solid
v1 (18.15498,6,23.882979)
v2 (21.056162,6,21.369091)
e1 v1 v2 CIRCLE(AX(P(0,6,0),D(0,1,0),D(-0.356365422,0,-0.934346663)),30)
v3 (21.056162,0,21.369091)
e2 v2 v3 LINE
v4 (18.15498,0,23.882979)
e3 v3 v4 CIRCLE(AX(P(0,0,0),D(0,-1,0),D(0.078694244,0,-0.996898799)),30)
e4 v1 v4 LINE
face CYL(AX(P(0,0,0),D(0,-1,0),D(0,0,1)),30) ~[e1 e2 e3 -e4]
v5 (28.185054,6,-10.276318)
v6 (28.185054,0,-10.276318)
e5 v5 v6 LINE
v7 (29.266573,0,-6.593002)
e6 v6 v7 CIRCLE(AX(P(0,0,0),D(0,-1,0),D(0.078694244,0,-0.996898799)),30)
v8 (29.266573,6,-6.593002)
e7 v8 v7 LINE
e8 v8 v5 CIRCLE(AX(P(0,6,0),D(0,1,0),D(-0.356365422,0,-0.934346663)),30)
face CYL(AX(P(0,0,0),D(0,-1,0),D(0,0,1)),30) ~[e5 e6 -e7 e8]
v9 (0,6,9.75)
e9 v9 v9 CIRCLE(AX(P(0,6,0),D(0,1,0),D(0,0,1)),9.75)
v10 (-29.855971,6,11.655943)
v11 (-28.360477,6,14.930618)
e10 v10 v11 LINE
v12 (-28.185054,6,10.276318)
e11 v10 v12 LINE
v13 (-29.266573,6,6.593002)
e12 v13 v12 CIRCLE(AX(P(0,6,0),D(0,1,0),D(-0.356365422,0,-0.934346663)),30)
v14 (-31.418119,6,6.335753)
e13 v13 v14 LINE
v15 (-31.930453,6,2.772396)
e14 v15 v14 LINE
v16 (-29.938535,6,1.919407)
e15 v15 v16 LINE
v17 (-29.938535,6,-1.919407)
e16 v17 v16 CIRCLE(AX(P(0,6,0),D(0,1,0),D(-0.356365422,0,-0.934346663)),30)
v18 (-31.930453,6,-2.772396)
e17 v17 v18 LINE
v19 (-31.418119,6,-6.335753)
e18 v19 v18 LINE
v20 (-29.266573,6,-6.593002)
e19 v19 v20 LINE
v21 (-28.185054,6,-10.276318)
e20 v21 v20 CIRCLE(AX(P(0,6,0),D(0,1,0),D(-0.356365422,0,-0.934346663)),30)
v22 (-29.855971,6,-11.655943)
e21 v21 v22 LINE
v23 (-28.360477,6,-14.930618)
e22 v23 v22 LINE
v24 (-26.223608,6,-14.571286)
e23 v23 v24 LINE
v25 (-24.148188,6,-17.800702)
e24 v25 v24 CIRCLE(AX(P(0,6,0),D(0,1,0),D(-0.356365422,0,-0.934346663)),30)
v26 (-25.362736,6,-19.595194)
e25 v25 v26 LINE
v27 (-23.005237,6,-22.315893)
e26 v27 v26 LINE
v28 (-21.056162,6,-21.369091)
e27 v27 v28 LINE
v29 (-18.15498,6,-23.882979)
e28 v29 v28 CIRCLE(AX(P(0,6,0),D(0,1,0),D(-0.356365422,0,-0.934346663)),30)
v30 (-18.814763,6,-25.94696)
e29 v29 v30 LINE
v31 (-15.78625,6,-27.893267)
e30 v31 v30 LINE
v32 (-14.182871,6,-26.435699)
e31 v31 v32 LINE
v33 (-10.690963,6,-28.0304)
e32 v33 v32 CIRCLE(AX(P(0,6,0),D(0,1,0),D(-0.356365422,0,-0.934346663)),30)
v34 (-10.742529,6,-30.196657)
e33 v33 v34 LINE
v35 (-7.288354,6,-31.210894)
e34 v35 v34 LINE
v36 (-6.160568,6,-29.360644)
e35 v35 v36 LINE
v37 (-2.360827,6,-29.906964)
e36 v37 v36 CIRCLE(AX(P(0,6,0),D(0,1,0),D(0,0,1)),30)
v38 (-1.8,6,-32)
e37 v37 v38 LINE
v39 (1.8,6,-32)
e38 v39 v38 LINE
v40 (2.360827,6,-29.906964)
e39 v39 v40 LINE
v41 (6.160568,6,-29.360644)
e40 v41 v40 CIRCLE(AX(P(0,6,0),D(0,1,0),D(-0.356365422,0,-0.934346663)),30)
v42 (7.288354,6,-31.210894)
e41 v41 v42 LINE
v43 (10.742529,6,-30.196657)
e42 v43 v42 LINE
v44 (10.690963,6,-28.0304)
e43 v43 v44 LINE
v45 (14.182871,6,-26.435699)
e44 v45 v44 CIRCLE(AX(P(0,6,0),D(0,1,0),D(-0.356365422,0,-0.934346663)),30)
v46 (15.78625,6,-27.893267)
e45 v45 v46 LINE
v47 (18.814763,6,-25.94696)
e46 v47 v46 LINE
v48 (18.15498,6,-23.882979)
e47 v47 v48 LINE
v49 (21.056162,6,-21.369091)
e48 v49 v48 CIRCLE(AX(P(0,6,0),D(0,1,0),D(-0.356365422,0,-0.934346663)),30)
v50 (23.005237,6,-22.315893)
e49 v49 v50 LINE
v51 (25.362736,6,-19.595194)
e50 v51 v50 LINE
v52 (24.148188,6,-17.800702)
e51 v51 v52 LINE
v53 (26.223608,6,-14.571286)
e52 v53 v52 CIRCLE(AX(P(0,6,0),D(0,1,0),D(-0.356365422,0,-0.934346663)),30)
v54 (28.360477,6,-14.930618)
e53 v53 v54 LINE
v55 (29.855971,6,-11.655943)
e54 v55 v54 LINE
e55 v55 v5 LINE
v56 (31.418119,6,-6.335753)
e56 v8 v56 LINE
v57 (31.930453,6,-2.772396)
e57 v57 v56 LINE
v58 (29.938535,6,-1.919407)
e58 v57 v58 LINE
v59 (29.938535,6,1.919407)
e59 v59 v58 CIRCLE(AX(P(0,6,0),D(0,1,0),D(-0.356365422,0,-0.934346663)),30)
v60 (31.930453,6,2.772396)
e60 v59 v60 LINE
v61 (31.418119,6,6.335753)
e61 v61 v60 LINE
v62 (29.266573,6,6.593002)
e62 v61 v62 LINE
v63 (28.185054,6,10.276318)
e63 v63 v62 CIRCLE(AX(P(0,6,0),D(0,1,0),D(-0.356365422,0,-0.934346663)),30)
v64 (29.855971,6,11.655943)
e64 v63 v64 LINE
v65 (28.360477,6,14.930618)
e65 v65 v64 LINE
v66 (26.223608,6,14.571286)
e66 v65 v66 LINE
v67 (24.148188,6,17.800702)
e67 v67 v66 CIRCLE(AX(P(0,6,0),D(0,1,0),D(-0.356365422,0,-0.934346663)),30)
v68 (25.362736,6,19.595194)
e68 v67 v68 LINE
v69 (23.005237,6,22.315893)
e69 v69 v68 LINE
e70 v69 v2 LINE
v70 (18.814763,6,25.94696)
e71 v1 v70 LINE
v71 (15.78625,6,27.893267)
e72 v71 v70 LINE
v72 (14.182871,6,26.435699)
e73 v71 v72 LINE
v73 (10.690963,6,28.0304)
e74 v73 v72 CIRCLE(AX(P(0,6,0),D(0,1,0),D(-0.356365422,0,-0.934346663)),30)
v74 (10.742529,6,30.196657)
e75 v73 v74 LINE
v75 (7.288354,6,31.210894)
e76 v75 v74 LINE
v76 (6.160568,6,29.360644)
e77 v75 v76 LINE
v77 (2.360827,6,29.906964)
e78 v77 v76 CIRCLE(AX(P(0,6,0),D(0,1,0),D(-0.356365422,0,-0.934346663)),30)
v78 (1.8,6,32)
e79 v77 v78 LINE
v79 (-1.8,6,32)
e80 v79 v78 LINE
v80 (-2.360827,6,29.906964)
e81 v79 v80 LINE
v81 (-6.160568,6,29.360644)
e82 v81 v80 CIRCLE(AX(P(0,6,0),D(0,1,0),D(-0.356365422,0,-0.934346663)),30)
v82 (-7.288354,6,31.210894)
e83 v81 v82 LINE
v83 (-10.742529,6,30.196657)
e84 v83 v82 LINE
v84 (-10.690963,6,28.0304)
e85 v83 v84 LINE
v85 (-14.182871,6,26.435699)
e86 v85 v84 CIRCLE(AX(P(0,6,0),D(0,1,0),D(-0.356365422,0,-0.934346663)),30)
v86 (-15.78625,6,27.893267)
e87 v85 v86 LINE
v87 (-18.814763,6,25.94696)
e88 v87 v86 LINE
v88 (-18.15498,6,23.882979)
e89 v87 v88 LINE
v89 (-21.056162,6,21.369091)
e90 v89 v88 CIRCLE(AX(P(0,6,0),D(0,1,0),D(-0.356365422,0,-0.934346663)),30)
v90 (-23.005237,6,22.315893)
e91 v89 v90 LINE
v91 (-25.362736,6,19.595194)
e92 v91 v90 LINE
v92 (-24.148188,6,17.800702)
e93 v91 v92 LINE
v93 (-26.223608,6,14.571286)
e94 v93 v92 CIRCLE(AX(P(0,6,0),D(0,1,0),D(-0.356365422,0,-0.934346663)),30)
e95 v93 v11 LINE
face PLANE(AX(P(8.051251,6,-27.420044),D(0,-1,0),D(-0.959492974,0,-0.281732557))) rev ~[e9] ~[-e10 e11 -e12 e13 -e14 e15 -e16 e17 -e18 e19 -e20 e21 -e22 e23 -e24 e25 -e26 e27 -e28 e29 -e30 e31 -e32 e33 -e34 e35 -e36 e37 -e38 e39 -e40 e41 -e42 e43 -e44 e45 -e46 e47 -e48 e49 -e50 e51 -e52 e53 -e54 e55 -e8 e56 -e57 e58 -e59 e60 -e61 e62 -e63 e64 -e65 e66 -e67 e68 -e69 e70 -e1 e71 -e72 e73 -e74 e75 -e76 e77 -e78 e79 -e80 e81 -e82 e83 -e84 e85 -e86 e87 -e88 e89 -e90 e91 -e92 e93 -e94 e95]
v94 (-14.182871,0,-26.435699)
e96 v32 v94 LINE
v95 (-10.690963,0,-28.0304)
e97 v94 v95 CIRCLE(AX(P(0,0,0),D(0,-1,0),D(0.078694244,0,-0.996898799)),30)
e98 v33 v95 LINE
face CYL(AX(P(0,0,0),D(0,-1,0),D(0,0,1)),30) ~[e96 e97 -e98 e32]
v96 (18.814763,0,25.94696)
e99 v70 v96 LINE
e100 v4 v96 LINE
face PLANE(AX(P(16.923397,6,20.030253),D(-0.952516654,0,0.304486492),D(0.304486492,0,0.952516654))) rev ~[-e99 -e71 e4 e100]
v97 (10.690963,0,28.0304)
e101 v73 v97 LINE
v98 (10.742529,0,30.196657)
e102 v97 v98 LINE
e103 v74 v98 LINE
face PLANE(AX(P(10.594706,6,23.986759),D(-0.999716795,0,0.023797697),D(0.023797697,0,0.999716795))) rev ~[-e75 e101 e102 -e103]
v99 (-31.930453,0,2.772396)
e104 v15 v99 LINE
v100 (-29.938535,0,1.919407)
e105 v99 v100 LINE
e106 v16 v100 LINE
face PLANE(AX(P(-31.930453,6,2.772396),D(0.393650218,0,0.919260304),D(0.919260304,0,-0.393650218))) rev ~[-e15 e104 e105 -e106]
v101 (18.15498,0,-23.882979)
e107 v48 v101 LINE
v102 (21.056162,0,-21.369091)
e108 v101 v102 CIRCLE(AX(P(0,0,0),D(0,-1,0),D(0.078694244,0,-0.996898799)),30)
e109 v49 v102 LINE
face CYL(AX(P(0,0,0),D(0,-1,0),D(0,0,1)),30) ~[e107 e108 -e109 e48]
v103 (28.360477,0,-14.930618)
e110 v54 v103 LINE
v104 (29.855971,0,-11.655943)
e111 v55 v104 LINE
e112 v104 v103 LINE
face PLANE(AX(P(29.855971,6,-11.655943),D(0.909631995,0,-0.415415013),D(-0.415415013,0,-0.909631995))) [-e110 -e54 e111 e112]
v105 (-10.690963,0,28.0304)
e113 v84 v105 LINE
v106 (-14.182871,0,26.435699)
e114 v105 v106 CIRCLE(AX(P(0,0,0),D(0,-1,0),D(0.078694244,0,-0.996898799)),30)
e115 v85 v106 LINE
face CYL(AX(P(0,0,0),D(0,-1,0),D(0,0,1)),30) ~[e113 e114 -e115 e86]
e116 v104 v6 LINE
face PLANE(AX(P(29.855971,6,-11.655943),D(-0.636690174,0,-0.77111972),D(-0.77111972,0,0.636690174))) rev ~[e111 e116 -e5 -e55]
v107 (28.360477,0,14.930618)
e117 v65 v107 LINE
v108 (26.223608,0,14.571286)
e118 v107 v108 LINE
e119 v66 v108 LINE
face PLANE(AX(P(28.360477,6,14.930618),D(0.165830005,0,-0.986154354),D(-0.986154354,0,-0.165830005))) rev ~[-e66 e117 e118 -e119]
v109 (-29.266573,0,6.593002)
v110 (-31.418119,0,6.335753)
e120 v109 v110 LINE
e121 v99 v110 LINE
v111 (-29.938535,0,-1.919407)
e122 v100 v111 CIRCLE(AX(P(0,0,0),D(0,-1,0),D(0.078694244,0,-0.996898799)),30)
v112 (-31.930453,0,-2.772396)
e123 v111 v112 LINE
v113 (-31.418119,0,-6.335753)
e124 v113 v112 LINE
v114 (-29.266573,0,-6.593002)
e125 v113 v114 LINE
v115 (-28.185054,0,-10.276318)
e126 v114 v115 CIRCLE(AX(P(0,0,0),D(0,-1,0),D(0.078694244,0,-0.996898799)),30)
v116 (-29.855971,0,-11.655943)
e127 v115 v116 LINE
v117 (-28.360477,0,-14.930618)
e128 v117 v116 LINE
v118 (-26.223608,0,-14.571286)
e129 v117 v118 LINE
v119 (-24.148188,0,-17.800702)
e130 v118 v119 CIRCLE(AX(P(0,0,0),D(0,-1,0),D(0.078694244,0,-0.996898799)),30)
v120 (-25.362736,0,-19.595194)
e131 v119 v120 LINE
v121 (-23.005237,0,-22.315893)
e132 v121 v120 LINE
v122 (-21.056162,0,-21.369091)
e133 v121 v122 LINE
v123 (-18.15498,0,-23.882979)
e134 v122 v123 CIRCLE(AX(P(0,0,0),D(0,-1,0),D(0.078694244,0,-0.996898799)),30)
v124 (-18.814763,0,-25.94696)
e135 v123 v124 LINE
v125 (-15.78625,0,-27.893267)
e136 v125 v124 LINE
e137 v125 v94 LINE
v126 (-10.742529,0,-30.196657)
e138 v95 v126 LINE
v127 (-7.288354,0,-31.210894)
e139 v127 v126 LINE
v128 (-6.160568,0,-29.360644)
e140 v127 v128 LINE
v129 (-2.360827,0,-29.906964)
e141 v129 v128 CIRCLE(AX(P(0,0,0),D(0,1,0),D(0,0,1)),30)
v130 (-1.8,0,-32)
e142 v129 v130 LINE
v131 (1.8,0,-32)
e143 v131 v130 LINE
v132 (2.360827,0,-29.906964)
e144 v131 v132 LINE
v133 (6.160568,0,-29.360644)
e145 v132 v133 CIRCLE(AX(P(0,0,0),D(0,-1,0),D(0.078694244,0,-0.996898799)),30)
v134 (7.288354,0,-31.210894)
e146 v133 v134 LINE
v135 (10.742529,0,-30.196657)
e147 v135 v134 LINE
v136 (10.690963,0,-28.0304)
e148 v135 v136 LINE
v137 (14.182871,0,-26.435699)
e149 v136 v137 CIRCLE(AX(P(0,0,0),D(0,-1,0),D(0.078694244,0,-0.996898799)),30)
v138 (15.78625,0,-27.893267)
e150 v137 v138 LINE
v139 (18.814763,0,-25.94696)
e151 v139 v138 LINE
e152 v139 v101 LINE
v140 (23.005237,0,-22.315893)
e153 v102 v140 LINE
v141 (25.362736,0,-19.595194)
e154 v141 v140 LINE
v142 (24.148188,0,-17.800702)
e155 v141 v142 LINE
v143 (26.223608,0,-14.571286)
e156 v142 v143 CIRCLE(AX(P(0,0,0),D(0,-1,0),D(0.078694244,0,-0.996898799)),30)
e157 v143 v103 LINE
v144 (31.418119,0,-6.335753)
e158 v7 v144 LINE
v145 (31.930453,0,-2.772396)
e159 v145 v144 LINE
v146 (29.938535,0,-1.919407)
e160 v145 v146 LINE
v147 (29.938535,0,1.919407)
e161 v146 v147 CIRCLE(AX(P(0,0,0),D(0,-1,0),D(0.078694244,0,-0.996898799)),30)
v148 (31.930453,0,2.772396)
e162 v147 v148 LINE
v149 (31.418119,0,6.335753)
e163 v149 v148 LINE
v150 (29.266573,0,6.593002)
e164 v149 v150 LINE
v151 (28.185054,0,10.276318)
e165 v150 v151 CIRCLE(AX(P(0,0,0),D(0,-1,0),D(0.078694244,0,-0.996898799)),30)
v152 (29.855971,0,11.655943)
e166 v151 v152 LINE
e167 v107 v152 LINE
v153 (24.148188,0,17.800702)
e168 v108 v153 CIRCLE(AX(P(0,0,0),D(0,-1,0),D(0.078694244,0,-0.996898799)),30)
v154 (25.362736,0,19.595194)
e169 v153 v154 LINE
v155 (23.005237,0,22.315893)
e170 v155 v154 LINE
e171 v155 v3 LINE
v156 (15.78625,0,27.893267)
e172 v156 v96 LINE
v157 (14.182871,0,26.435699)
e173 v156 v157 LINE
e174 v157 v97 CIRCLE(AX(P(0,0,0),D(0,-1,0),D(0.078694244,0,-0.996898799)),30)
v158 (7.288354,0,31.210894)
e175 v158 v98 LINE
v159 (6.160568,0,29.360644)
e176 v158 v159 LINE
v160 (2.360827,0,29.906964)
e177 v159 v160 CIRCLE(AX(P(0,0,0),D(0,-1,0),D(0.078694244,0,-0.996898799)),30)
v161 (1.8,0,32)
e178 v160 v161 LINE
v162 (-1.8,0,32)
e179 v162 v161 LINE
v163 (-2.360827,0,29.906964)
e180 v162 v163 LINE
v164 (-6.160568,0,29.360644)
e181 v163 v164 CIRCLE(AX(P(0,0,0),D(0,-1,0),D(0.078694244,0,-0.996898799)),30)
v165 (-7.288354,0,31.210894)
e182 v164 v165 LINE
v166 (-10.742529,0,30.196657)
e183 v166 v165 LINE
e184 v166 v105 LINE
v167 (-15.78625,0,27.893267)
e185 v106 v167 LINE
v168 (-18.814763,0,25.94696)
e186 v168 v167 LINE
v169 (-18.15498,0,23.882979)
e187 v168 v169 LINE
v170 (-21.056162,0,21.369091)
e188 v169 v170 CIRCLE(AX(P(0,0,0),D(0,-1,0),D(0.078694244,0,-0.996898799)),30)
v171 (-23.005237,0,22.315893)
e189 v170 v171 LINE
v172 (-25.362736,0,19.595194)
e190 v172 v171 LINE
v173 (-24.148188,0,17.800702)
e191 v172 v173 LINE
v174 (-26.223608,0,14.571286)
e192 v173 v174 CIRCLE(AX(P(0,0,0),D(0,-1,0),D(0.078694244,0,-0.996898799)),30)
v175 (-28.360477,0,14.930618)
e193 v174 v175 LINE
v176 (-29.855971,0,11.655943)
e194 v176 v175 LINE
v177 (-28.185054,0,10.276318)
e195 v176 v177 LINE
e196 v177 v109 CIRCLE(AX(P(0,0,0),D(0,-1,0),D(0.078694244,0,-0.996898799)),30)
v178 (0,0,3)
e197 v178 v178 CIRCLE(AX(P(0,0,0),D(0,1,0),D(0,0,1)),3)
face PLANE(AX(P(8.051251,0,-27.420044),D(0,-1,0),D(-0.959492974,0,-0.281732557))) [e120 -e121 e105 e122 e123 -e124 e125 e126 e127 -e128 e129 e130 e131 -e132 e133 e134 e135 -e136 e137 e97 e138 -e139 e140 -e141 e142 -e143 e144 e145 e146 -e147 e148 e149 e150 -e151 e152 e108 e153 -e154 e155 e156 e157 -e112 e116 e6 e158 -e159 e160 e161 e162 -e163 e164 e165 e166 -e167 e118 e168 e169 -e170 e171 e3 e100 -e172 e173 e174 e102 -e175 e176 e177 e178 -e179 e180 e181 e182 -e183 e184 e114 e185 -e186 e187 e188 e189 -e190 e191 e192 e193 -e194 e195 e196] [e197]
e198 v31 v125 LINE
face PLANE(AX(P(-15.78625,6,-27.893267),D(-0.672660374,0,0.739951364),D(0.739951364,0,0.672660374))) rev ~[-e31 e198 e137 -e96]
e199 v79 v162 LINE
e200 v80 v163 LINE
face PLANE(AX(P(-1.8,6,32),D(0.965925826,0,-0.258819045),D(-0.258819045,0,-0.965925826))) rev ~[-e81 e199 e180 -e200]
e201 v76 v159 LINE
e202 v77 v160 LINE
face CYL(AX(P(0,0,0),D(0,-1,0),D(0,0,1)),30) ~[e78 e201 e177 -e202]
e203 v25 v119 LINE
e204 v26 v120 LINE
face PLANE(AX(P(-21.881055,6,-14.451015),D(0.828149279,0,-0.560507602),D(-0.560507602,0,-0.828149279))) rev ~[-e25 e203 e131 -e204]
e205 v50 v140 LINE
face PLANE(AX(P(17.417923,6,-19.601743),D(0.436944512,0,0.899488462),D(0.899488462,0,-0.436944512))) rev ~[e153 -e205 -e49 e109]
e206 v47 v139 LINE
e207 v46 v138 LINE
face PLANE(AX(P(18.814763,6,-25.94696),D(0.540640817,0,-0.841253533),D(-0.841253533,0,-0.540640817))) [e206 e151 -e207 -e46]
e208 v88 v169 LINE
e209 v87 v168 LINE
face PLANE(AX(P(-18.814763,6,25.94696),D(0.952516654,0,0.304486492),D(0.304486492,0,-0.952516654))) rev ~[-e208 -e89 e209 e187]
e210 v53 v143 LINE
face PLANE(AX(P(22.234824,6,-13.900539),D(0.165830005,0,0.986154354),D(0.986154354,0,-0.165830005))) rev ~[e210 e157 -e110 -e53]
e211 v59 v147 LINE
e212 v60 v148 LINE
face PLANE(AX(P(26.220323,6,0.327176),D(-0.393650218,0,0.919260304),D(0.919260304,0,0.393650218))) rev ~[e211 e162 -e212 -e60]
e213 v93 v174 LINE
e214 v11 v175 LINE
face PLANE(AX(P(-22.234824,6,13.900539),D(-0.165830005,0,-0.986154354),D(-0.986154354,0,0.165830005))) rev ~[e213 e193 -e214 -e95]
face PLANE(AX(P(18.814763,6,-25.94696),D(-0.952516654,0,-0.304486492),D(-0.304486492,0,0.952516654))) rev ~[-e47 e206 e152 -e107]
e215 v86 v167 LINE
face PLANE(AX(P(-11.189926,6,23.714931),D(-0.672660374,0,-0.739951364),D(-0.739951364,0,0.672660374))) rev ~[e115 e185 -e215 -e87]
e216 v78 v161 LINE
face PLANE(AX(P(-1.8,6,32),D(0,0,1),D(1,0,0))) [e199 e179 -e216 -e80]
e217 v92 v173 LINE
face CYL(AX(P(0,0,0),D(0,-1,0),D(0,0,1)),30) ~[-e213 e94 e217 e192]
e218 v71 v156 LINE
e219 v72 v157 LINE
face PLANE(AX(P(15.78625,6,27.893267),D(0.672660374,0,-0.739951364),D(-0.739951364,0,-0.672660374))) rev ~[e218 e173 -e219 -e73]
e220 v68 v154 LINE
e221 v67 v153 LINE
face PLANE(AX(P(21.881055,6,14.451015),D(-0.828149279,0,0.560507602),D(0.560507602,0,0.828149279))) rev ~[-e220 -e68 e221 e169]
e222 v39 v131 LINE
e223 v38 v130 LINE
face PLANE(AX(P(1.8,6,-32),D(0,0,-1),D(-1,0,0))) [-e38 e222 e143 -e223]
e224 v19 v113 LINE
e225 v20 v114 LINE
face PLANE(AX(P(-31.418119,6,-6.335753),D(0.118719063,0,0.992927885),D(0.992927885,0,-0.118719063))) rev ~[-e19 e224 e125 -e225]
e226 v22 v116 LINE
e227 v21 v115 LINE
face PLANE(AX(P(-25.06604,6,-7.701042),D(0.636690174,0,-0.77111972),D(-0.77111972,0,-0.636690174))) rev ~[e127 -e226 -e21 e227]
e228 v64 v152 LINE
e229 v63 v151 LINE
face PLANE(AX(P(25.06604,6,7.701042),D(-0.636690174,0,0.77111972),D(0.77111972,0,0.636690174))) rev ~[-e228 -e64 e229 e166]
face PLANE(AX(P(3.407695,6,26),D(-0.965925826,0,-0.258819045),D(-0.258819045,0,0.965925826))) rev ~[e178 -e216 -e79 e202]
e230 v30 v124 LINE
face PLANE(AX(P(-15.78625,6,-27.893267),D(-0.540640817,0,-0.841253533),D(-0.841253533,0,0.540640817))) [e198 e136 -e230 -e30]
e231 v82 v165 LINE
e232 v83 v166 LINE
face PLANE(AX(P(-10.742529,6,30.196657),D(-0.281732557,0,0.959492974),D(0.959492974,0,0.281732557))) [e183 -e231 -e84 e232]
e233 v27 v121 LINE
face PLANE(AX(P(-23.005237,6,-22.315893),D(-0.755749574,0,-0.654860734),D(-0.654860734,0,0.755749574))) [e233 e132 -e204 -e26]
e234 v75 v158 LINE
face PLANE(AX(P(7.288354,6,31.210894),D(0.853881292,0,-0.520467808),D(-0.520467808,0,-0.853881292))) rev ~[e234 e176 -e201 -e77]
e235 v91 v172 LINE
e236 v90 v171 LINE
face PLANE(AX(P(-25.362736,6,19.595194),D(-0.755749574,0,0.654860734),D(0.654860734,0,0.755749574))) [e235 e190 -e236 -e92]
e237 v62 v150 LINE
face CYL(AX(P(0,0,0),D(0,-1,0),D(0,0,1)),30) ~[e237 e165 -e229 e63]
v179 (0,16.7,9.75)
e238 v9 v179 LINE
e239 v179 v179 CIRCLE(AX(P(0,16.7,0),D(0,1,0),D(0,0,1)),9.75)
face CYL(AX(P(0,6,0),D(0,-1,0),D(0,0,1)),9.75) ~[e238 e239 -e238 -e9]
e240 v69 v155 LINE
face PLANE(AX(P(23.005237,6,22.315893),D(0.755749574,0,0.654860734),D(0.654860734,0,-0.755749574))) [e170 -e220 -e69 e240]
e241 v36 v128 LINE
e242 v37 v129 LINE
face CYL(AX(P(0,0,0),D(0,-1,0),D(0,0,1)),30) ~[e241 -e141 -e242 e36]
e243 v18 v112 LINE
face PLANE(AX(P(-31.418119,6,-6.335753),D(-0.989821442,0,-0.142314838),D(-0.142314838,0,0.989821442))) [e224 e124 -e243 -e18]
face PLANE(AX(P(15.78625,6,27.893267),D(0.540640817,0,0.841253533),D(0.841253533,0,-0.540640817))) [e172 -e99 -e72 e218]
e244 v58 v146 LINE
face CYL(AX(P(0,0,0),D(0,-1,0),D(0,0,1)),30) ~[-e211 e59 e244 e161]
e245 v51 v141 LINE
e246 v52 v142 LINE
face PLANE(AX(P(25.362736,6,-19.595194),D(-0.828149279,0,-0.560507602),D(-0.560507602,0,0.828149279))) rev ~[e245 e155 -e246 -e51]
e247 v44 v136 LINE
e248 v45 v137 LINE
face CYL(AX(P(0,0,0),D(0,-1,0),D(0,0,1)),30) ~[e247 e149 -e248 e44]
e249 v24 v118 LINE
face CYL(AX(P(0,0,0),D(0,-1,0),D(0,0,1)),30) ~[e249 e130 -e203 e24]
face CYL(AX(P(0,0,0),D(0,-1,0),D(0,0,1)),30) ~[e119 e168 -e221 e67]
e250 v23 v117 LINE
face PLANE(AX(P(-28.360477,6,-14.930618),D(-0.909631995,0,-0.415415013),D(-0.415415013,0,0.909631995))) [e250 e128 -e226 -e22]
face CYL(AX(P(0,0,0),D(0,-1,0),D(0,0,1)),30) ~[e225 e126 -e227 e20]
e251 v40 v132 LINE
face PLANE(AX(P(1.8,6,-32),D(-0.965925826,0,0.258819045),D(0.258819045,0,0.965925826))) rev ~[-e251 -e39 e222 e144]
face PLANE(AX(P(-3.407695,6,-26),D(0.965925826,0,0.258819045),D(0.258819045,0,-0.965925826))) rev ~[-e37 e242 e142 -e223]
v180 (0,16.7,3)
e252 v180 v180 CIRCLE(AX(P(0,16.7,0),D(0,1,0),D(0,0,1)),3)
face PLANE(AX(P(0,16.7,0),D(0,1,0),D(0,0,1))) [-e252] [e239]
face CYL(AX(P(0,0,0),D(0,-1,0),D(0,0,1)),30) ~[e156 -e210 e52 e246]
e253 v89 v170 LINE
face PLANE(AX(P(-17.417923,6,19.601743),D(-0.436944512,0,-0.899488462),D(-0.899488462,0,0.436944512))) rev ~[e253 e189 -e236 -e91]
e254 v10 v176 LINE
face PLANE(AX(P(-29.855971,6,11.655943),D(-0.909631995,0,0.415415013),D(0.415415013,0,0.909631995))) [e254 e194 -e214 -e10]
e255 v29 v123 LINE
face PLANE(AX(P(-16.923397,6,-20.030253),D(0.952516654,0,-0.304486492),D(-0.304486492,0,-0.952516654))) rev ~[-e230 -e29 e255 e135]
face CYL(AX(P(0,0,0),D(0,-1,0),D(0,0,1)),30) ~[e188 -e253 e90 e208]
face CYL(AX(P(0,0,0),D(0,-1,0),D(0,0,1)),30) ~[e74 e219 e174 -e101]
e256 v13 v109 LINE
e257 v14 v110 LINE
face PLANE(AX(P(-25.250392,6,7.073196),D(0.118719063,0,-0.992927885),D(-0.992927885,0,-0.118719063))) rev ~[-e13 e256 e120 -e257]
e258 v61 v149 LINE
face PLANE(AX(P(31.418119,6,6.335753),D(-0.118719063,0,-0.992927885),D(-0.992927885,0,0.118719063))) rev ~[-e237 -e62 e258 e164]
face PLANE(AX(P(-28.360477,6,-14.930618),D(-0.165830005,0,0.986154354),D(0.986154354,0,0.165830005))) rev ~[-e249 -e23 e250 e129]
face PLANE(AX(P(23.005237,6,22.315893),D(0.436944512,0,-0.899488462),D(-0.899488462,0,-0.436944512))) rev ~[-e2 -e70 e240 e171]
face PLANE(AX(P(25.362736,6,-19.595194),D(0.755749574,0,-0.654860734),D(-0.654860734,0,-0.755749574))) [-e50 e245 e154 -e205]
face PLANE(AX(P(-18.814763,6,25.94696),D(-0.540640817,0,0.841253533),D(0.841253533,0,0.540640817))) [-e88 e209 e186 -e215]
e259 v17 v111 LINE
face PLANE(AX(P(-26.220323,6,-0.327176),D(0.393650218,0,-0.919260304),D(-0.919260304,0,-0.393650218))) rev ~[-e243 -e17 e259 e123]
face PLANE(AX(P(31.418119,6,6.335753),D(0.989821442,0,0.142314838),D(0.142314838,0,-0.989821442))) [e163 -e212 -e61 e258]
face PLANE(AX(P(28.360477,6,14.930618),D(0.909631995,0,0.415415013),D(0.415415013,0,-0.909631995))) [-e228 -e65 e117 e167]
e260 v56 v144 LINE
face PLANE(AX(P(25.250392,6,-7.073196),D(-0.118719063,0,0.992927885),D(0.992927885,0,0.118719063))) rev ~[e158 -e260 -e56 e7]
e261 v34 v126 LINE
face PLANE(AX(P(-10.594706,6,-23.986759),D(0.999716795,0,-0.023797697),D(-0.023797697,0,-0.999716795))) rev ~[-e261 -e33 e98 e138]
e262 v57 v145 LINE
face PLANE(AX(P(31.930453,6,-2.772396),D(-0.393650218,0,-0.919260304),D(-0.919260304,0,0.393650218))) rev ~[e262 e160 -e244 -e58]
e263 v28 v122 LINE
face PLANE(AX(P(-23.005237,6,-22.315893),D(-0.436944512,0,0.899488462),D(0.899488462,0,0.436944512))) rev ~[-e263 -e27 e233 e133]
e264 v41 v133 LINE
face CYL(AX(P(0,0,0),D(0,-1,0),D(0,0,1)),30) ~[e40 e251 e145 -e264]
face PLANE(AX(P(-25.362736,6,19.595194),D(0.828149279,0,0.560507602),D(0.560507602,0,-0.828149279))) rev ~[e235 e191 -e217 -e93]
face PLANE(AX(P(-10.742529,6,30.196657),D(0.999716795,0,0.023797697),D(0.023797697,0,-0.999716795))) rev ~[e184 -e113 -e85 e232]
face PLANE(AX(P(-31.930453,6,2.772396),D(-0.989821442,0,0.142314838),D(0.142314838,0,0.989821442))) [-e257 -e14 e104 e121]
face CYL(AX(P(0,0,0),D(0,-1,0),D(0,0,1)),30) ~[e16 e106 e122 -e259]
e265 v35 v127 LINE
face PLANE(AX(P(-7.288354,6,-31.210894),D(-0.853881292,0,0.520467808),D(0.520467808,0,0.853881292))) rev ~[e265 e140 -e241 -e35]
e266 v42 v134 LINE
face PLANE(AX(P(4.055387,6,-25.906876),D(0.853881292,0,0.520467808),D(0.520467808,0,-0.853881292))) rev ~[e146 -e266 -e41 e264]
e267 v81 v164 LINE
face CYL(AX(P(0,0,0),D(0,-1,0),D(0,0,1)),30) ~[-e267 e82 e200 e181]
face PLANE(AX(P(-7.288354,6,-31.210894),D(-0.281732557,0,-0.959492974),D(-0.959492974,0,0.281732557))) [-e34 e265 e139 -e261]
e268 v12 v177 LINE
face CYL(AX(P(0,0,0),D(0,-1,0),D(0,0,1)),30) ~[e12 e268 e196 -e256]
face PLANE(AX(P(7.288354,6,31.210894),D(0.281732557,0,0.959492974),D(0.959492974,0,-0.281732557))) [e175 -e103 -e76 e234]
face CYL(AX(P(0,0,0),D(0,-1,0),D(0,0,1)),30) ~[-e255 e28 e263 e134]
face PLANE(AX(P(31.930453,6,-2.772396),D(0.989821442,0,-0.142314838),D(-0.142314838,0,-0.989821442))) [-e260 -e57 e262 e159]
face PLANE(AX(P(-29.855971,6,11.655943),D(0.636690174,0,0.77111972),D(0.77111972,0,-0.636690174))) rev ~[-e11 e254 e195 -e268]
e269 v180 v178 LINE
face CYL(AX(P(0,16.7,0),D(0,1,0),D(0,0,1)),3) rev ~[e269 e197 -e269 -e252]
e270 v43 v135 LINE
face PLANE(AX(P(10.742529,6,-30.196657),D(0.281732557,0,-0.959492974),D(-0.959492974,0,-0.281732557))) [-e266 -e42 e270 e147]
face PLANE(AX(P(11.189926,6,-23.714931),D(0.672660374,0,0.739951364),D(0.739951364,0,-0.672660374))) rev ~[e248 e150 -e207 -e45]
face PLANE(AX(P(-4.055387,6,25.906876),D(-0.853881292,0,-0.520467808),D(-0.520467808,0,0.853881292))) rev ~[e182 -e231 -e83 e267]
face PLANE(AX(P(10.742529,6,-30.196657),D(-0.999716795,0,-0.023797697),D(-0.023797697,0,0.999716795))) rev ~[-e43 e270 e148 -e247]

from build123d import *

# Parameters (mm, degrees)
SKETCH1_R           = 30
BOSS_EXTRUDE3_DEPTH = 6
BOSS_EXTRUDE2_DEPTH = 6
CIRPATTERN3_COUNT   = 22
SKETCH5_R           = 9.75
BOSS_EXTRUDE4_DEPTH = 10.7
SKETCH6_R           = 3
CUT_EXTRUDE1_DEPTH  = 49.191740155


with BuildPart() as part:
    # Sketch1 → Boss-Extrude3 (new body)
    with BuildSketch(Plane(origin=(0, 0, 0), x_dir=(1, 0, 0), z_dir=(0, 1, 0))):
        with Locations(Location((0, 0, 0), (0, 0, 270))):
            Circle(SKETCH1_R)
    extrude(amount=BOSS_EXTRUDE3_DEPTH)

    # Sketch2 → Boss-Extrude2 (add)
    with BuildSketch(Plane(origin=(0, 6, 0), x_dir=(1, 0, 0), z_dir=(0, 1, 0))):
        Polygon((0, 32), (1.8, 32), (3.407695155, 26), (0, 26), (-3.407695155, 26), (-1.8, 32), align=None)
    boss_extrude2 = extrude(amount=-BOSS_EXTRUDE2_DEPTH)

    # CirPattern3: Boss-Extrude2 ×22 about axis
    cirpattern3_axis = Axis((0, 0, 0), (0, 1, 0))
    for i in range(1, CIRPATTERN3_COUNT):
        add(boss_extrude2.rotate(cirpattern3_axis, i * 360 / CIRPATTERN3_COUNT))

    # Sketch5 → Boss-Extrude4 (add)
    with BuildSketch(Plane(origin=(0, 6, 0), x_dir=(1, 0, 0), z_dir=(0, 1, 0))):
        with Locations(Location((0, 0, 0), (0, 0, 270))):
            Circle(SKETCH5_R)
    extrude(amount=BOSS_EXTRUDE4_DEPTH)

    # Sketch6 → Cut-Extrude1 (cut, through all)
    with BuildSketch(Plane(origin=(0, 16.7, 0), x_dir=(1, 0, 0), z_dir=(0, 1, 0))):
        with Locations(Location((0, 0, 0), (0, 0, 270))):
            Circle(SKETCH6_R)
    extrude(amount=-CUT_EXTRUDE1_DEPTH, mode=Mode.SUBTRACT)


solid = part.part
